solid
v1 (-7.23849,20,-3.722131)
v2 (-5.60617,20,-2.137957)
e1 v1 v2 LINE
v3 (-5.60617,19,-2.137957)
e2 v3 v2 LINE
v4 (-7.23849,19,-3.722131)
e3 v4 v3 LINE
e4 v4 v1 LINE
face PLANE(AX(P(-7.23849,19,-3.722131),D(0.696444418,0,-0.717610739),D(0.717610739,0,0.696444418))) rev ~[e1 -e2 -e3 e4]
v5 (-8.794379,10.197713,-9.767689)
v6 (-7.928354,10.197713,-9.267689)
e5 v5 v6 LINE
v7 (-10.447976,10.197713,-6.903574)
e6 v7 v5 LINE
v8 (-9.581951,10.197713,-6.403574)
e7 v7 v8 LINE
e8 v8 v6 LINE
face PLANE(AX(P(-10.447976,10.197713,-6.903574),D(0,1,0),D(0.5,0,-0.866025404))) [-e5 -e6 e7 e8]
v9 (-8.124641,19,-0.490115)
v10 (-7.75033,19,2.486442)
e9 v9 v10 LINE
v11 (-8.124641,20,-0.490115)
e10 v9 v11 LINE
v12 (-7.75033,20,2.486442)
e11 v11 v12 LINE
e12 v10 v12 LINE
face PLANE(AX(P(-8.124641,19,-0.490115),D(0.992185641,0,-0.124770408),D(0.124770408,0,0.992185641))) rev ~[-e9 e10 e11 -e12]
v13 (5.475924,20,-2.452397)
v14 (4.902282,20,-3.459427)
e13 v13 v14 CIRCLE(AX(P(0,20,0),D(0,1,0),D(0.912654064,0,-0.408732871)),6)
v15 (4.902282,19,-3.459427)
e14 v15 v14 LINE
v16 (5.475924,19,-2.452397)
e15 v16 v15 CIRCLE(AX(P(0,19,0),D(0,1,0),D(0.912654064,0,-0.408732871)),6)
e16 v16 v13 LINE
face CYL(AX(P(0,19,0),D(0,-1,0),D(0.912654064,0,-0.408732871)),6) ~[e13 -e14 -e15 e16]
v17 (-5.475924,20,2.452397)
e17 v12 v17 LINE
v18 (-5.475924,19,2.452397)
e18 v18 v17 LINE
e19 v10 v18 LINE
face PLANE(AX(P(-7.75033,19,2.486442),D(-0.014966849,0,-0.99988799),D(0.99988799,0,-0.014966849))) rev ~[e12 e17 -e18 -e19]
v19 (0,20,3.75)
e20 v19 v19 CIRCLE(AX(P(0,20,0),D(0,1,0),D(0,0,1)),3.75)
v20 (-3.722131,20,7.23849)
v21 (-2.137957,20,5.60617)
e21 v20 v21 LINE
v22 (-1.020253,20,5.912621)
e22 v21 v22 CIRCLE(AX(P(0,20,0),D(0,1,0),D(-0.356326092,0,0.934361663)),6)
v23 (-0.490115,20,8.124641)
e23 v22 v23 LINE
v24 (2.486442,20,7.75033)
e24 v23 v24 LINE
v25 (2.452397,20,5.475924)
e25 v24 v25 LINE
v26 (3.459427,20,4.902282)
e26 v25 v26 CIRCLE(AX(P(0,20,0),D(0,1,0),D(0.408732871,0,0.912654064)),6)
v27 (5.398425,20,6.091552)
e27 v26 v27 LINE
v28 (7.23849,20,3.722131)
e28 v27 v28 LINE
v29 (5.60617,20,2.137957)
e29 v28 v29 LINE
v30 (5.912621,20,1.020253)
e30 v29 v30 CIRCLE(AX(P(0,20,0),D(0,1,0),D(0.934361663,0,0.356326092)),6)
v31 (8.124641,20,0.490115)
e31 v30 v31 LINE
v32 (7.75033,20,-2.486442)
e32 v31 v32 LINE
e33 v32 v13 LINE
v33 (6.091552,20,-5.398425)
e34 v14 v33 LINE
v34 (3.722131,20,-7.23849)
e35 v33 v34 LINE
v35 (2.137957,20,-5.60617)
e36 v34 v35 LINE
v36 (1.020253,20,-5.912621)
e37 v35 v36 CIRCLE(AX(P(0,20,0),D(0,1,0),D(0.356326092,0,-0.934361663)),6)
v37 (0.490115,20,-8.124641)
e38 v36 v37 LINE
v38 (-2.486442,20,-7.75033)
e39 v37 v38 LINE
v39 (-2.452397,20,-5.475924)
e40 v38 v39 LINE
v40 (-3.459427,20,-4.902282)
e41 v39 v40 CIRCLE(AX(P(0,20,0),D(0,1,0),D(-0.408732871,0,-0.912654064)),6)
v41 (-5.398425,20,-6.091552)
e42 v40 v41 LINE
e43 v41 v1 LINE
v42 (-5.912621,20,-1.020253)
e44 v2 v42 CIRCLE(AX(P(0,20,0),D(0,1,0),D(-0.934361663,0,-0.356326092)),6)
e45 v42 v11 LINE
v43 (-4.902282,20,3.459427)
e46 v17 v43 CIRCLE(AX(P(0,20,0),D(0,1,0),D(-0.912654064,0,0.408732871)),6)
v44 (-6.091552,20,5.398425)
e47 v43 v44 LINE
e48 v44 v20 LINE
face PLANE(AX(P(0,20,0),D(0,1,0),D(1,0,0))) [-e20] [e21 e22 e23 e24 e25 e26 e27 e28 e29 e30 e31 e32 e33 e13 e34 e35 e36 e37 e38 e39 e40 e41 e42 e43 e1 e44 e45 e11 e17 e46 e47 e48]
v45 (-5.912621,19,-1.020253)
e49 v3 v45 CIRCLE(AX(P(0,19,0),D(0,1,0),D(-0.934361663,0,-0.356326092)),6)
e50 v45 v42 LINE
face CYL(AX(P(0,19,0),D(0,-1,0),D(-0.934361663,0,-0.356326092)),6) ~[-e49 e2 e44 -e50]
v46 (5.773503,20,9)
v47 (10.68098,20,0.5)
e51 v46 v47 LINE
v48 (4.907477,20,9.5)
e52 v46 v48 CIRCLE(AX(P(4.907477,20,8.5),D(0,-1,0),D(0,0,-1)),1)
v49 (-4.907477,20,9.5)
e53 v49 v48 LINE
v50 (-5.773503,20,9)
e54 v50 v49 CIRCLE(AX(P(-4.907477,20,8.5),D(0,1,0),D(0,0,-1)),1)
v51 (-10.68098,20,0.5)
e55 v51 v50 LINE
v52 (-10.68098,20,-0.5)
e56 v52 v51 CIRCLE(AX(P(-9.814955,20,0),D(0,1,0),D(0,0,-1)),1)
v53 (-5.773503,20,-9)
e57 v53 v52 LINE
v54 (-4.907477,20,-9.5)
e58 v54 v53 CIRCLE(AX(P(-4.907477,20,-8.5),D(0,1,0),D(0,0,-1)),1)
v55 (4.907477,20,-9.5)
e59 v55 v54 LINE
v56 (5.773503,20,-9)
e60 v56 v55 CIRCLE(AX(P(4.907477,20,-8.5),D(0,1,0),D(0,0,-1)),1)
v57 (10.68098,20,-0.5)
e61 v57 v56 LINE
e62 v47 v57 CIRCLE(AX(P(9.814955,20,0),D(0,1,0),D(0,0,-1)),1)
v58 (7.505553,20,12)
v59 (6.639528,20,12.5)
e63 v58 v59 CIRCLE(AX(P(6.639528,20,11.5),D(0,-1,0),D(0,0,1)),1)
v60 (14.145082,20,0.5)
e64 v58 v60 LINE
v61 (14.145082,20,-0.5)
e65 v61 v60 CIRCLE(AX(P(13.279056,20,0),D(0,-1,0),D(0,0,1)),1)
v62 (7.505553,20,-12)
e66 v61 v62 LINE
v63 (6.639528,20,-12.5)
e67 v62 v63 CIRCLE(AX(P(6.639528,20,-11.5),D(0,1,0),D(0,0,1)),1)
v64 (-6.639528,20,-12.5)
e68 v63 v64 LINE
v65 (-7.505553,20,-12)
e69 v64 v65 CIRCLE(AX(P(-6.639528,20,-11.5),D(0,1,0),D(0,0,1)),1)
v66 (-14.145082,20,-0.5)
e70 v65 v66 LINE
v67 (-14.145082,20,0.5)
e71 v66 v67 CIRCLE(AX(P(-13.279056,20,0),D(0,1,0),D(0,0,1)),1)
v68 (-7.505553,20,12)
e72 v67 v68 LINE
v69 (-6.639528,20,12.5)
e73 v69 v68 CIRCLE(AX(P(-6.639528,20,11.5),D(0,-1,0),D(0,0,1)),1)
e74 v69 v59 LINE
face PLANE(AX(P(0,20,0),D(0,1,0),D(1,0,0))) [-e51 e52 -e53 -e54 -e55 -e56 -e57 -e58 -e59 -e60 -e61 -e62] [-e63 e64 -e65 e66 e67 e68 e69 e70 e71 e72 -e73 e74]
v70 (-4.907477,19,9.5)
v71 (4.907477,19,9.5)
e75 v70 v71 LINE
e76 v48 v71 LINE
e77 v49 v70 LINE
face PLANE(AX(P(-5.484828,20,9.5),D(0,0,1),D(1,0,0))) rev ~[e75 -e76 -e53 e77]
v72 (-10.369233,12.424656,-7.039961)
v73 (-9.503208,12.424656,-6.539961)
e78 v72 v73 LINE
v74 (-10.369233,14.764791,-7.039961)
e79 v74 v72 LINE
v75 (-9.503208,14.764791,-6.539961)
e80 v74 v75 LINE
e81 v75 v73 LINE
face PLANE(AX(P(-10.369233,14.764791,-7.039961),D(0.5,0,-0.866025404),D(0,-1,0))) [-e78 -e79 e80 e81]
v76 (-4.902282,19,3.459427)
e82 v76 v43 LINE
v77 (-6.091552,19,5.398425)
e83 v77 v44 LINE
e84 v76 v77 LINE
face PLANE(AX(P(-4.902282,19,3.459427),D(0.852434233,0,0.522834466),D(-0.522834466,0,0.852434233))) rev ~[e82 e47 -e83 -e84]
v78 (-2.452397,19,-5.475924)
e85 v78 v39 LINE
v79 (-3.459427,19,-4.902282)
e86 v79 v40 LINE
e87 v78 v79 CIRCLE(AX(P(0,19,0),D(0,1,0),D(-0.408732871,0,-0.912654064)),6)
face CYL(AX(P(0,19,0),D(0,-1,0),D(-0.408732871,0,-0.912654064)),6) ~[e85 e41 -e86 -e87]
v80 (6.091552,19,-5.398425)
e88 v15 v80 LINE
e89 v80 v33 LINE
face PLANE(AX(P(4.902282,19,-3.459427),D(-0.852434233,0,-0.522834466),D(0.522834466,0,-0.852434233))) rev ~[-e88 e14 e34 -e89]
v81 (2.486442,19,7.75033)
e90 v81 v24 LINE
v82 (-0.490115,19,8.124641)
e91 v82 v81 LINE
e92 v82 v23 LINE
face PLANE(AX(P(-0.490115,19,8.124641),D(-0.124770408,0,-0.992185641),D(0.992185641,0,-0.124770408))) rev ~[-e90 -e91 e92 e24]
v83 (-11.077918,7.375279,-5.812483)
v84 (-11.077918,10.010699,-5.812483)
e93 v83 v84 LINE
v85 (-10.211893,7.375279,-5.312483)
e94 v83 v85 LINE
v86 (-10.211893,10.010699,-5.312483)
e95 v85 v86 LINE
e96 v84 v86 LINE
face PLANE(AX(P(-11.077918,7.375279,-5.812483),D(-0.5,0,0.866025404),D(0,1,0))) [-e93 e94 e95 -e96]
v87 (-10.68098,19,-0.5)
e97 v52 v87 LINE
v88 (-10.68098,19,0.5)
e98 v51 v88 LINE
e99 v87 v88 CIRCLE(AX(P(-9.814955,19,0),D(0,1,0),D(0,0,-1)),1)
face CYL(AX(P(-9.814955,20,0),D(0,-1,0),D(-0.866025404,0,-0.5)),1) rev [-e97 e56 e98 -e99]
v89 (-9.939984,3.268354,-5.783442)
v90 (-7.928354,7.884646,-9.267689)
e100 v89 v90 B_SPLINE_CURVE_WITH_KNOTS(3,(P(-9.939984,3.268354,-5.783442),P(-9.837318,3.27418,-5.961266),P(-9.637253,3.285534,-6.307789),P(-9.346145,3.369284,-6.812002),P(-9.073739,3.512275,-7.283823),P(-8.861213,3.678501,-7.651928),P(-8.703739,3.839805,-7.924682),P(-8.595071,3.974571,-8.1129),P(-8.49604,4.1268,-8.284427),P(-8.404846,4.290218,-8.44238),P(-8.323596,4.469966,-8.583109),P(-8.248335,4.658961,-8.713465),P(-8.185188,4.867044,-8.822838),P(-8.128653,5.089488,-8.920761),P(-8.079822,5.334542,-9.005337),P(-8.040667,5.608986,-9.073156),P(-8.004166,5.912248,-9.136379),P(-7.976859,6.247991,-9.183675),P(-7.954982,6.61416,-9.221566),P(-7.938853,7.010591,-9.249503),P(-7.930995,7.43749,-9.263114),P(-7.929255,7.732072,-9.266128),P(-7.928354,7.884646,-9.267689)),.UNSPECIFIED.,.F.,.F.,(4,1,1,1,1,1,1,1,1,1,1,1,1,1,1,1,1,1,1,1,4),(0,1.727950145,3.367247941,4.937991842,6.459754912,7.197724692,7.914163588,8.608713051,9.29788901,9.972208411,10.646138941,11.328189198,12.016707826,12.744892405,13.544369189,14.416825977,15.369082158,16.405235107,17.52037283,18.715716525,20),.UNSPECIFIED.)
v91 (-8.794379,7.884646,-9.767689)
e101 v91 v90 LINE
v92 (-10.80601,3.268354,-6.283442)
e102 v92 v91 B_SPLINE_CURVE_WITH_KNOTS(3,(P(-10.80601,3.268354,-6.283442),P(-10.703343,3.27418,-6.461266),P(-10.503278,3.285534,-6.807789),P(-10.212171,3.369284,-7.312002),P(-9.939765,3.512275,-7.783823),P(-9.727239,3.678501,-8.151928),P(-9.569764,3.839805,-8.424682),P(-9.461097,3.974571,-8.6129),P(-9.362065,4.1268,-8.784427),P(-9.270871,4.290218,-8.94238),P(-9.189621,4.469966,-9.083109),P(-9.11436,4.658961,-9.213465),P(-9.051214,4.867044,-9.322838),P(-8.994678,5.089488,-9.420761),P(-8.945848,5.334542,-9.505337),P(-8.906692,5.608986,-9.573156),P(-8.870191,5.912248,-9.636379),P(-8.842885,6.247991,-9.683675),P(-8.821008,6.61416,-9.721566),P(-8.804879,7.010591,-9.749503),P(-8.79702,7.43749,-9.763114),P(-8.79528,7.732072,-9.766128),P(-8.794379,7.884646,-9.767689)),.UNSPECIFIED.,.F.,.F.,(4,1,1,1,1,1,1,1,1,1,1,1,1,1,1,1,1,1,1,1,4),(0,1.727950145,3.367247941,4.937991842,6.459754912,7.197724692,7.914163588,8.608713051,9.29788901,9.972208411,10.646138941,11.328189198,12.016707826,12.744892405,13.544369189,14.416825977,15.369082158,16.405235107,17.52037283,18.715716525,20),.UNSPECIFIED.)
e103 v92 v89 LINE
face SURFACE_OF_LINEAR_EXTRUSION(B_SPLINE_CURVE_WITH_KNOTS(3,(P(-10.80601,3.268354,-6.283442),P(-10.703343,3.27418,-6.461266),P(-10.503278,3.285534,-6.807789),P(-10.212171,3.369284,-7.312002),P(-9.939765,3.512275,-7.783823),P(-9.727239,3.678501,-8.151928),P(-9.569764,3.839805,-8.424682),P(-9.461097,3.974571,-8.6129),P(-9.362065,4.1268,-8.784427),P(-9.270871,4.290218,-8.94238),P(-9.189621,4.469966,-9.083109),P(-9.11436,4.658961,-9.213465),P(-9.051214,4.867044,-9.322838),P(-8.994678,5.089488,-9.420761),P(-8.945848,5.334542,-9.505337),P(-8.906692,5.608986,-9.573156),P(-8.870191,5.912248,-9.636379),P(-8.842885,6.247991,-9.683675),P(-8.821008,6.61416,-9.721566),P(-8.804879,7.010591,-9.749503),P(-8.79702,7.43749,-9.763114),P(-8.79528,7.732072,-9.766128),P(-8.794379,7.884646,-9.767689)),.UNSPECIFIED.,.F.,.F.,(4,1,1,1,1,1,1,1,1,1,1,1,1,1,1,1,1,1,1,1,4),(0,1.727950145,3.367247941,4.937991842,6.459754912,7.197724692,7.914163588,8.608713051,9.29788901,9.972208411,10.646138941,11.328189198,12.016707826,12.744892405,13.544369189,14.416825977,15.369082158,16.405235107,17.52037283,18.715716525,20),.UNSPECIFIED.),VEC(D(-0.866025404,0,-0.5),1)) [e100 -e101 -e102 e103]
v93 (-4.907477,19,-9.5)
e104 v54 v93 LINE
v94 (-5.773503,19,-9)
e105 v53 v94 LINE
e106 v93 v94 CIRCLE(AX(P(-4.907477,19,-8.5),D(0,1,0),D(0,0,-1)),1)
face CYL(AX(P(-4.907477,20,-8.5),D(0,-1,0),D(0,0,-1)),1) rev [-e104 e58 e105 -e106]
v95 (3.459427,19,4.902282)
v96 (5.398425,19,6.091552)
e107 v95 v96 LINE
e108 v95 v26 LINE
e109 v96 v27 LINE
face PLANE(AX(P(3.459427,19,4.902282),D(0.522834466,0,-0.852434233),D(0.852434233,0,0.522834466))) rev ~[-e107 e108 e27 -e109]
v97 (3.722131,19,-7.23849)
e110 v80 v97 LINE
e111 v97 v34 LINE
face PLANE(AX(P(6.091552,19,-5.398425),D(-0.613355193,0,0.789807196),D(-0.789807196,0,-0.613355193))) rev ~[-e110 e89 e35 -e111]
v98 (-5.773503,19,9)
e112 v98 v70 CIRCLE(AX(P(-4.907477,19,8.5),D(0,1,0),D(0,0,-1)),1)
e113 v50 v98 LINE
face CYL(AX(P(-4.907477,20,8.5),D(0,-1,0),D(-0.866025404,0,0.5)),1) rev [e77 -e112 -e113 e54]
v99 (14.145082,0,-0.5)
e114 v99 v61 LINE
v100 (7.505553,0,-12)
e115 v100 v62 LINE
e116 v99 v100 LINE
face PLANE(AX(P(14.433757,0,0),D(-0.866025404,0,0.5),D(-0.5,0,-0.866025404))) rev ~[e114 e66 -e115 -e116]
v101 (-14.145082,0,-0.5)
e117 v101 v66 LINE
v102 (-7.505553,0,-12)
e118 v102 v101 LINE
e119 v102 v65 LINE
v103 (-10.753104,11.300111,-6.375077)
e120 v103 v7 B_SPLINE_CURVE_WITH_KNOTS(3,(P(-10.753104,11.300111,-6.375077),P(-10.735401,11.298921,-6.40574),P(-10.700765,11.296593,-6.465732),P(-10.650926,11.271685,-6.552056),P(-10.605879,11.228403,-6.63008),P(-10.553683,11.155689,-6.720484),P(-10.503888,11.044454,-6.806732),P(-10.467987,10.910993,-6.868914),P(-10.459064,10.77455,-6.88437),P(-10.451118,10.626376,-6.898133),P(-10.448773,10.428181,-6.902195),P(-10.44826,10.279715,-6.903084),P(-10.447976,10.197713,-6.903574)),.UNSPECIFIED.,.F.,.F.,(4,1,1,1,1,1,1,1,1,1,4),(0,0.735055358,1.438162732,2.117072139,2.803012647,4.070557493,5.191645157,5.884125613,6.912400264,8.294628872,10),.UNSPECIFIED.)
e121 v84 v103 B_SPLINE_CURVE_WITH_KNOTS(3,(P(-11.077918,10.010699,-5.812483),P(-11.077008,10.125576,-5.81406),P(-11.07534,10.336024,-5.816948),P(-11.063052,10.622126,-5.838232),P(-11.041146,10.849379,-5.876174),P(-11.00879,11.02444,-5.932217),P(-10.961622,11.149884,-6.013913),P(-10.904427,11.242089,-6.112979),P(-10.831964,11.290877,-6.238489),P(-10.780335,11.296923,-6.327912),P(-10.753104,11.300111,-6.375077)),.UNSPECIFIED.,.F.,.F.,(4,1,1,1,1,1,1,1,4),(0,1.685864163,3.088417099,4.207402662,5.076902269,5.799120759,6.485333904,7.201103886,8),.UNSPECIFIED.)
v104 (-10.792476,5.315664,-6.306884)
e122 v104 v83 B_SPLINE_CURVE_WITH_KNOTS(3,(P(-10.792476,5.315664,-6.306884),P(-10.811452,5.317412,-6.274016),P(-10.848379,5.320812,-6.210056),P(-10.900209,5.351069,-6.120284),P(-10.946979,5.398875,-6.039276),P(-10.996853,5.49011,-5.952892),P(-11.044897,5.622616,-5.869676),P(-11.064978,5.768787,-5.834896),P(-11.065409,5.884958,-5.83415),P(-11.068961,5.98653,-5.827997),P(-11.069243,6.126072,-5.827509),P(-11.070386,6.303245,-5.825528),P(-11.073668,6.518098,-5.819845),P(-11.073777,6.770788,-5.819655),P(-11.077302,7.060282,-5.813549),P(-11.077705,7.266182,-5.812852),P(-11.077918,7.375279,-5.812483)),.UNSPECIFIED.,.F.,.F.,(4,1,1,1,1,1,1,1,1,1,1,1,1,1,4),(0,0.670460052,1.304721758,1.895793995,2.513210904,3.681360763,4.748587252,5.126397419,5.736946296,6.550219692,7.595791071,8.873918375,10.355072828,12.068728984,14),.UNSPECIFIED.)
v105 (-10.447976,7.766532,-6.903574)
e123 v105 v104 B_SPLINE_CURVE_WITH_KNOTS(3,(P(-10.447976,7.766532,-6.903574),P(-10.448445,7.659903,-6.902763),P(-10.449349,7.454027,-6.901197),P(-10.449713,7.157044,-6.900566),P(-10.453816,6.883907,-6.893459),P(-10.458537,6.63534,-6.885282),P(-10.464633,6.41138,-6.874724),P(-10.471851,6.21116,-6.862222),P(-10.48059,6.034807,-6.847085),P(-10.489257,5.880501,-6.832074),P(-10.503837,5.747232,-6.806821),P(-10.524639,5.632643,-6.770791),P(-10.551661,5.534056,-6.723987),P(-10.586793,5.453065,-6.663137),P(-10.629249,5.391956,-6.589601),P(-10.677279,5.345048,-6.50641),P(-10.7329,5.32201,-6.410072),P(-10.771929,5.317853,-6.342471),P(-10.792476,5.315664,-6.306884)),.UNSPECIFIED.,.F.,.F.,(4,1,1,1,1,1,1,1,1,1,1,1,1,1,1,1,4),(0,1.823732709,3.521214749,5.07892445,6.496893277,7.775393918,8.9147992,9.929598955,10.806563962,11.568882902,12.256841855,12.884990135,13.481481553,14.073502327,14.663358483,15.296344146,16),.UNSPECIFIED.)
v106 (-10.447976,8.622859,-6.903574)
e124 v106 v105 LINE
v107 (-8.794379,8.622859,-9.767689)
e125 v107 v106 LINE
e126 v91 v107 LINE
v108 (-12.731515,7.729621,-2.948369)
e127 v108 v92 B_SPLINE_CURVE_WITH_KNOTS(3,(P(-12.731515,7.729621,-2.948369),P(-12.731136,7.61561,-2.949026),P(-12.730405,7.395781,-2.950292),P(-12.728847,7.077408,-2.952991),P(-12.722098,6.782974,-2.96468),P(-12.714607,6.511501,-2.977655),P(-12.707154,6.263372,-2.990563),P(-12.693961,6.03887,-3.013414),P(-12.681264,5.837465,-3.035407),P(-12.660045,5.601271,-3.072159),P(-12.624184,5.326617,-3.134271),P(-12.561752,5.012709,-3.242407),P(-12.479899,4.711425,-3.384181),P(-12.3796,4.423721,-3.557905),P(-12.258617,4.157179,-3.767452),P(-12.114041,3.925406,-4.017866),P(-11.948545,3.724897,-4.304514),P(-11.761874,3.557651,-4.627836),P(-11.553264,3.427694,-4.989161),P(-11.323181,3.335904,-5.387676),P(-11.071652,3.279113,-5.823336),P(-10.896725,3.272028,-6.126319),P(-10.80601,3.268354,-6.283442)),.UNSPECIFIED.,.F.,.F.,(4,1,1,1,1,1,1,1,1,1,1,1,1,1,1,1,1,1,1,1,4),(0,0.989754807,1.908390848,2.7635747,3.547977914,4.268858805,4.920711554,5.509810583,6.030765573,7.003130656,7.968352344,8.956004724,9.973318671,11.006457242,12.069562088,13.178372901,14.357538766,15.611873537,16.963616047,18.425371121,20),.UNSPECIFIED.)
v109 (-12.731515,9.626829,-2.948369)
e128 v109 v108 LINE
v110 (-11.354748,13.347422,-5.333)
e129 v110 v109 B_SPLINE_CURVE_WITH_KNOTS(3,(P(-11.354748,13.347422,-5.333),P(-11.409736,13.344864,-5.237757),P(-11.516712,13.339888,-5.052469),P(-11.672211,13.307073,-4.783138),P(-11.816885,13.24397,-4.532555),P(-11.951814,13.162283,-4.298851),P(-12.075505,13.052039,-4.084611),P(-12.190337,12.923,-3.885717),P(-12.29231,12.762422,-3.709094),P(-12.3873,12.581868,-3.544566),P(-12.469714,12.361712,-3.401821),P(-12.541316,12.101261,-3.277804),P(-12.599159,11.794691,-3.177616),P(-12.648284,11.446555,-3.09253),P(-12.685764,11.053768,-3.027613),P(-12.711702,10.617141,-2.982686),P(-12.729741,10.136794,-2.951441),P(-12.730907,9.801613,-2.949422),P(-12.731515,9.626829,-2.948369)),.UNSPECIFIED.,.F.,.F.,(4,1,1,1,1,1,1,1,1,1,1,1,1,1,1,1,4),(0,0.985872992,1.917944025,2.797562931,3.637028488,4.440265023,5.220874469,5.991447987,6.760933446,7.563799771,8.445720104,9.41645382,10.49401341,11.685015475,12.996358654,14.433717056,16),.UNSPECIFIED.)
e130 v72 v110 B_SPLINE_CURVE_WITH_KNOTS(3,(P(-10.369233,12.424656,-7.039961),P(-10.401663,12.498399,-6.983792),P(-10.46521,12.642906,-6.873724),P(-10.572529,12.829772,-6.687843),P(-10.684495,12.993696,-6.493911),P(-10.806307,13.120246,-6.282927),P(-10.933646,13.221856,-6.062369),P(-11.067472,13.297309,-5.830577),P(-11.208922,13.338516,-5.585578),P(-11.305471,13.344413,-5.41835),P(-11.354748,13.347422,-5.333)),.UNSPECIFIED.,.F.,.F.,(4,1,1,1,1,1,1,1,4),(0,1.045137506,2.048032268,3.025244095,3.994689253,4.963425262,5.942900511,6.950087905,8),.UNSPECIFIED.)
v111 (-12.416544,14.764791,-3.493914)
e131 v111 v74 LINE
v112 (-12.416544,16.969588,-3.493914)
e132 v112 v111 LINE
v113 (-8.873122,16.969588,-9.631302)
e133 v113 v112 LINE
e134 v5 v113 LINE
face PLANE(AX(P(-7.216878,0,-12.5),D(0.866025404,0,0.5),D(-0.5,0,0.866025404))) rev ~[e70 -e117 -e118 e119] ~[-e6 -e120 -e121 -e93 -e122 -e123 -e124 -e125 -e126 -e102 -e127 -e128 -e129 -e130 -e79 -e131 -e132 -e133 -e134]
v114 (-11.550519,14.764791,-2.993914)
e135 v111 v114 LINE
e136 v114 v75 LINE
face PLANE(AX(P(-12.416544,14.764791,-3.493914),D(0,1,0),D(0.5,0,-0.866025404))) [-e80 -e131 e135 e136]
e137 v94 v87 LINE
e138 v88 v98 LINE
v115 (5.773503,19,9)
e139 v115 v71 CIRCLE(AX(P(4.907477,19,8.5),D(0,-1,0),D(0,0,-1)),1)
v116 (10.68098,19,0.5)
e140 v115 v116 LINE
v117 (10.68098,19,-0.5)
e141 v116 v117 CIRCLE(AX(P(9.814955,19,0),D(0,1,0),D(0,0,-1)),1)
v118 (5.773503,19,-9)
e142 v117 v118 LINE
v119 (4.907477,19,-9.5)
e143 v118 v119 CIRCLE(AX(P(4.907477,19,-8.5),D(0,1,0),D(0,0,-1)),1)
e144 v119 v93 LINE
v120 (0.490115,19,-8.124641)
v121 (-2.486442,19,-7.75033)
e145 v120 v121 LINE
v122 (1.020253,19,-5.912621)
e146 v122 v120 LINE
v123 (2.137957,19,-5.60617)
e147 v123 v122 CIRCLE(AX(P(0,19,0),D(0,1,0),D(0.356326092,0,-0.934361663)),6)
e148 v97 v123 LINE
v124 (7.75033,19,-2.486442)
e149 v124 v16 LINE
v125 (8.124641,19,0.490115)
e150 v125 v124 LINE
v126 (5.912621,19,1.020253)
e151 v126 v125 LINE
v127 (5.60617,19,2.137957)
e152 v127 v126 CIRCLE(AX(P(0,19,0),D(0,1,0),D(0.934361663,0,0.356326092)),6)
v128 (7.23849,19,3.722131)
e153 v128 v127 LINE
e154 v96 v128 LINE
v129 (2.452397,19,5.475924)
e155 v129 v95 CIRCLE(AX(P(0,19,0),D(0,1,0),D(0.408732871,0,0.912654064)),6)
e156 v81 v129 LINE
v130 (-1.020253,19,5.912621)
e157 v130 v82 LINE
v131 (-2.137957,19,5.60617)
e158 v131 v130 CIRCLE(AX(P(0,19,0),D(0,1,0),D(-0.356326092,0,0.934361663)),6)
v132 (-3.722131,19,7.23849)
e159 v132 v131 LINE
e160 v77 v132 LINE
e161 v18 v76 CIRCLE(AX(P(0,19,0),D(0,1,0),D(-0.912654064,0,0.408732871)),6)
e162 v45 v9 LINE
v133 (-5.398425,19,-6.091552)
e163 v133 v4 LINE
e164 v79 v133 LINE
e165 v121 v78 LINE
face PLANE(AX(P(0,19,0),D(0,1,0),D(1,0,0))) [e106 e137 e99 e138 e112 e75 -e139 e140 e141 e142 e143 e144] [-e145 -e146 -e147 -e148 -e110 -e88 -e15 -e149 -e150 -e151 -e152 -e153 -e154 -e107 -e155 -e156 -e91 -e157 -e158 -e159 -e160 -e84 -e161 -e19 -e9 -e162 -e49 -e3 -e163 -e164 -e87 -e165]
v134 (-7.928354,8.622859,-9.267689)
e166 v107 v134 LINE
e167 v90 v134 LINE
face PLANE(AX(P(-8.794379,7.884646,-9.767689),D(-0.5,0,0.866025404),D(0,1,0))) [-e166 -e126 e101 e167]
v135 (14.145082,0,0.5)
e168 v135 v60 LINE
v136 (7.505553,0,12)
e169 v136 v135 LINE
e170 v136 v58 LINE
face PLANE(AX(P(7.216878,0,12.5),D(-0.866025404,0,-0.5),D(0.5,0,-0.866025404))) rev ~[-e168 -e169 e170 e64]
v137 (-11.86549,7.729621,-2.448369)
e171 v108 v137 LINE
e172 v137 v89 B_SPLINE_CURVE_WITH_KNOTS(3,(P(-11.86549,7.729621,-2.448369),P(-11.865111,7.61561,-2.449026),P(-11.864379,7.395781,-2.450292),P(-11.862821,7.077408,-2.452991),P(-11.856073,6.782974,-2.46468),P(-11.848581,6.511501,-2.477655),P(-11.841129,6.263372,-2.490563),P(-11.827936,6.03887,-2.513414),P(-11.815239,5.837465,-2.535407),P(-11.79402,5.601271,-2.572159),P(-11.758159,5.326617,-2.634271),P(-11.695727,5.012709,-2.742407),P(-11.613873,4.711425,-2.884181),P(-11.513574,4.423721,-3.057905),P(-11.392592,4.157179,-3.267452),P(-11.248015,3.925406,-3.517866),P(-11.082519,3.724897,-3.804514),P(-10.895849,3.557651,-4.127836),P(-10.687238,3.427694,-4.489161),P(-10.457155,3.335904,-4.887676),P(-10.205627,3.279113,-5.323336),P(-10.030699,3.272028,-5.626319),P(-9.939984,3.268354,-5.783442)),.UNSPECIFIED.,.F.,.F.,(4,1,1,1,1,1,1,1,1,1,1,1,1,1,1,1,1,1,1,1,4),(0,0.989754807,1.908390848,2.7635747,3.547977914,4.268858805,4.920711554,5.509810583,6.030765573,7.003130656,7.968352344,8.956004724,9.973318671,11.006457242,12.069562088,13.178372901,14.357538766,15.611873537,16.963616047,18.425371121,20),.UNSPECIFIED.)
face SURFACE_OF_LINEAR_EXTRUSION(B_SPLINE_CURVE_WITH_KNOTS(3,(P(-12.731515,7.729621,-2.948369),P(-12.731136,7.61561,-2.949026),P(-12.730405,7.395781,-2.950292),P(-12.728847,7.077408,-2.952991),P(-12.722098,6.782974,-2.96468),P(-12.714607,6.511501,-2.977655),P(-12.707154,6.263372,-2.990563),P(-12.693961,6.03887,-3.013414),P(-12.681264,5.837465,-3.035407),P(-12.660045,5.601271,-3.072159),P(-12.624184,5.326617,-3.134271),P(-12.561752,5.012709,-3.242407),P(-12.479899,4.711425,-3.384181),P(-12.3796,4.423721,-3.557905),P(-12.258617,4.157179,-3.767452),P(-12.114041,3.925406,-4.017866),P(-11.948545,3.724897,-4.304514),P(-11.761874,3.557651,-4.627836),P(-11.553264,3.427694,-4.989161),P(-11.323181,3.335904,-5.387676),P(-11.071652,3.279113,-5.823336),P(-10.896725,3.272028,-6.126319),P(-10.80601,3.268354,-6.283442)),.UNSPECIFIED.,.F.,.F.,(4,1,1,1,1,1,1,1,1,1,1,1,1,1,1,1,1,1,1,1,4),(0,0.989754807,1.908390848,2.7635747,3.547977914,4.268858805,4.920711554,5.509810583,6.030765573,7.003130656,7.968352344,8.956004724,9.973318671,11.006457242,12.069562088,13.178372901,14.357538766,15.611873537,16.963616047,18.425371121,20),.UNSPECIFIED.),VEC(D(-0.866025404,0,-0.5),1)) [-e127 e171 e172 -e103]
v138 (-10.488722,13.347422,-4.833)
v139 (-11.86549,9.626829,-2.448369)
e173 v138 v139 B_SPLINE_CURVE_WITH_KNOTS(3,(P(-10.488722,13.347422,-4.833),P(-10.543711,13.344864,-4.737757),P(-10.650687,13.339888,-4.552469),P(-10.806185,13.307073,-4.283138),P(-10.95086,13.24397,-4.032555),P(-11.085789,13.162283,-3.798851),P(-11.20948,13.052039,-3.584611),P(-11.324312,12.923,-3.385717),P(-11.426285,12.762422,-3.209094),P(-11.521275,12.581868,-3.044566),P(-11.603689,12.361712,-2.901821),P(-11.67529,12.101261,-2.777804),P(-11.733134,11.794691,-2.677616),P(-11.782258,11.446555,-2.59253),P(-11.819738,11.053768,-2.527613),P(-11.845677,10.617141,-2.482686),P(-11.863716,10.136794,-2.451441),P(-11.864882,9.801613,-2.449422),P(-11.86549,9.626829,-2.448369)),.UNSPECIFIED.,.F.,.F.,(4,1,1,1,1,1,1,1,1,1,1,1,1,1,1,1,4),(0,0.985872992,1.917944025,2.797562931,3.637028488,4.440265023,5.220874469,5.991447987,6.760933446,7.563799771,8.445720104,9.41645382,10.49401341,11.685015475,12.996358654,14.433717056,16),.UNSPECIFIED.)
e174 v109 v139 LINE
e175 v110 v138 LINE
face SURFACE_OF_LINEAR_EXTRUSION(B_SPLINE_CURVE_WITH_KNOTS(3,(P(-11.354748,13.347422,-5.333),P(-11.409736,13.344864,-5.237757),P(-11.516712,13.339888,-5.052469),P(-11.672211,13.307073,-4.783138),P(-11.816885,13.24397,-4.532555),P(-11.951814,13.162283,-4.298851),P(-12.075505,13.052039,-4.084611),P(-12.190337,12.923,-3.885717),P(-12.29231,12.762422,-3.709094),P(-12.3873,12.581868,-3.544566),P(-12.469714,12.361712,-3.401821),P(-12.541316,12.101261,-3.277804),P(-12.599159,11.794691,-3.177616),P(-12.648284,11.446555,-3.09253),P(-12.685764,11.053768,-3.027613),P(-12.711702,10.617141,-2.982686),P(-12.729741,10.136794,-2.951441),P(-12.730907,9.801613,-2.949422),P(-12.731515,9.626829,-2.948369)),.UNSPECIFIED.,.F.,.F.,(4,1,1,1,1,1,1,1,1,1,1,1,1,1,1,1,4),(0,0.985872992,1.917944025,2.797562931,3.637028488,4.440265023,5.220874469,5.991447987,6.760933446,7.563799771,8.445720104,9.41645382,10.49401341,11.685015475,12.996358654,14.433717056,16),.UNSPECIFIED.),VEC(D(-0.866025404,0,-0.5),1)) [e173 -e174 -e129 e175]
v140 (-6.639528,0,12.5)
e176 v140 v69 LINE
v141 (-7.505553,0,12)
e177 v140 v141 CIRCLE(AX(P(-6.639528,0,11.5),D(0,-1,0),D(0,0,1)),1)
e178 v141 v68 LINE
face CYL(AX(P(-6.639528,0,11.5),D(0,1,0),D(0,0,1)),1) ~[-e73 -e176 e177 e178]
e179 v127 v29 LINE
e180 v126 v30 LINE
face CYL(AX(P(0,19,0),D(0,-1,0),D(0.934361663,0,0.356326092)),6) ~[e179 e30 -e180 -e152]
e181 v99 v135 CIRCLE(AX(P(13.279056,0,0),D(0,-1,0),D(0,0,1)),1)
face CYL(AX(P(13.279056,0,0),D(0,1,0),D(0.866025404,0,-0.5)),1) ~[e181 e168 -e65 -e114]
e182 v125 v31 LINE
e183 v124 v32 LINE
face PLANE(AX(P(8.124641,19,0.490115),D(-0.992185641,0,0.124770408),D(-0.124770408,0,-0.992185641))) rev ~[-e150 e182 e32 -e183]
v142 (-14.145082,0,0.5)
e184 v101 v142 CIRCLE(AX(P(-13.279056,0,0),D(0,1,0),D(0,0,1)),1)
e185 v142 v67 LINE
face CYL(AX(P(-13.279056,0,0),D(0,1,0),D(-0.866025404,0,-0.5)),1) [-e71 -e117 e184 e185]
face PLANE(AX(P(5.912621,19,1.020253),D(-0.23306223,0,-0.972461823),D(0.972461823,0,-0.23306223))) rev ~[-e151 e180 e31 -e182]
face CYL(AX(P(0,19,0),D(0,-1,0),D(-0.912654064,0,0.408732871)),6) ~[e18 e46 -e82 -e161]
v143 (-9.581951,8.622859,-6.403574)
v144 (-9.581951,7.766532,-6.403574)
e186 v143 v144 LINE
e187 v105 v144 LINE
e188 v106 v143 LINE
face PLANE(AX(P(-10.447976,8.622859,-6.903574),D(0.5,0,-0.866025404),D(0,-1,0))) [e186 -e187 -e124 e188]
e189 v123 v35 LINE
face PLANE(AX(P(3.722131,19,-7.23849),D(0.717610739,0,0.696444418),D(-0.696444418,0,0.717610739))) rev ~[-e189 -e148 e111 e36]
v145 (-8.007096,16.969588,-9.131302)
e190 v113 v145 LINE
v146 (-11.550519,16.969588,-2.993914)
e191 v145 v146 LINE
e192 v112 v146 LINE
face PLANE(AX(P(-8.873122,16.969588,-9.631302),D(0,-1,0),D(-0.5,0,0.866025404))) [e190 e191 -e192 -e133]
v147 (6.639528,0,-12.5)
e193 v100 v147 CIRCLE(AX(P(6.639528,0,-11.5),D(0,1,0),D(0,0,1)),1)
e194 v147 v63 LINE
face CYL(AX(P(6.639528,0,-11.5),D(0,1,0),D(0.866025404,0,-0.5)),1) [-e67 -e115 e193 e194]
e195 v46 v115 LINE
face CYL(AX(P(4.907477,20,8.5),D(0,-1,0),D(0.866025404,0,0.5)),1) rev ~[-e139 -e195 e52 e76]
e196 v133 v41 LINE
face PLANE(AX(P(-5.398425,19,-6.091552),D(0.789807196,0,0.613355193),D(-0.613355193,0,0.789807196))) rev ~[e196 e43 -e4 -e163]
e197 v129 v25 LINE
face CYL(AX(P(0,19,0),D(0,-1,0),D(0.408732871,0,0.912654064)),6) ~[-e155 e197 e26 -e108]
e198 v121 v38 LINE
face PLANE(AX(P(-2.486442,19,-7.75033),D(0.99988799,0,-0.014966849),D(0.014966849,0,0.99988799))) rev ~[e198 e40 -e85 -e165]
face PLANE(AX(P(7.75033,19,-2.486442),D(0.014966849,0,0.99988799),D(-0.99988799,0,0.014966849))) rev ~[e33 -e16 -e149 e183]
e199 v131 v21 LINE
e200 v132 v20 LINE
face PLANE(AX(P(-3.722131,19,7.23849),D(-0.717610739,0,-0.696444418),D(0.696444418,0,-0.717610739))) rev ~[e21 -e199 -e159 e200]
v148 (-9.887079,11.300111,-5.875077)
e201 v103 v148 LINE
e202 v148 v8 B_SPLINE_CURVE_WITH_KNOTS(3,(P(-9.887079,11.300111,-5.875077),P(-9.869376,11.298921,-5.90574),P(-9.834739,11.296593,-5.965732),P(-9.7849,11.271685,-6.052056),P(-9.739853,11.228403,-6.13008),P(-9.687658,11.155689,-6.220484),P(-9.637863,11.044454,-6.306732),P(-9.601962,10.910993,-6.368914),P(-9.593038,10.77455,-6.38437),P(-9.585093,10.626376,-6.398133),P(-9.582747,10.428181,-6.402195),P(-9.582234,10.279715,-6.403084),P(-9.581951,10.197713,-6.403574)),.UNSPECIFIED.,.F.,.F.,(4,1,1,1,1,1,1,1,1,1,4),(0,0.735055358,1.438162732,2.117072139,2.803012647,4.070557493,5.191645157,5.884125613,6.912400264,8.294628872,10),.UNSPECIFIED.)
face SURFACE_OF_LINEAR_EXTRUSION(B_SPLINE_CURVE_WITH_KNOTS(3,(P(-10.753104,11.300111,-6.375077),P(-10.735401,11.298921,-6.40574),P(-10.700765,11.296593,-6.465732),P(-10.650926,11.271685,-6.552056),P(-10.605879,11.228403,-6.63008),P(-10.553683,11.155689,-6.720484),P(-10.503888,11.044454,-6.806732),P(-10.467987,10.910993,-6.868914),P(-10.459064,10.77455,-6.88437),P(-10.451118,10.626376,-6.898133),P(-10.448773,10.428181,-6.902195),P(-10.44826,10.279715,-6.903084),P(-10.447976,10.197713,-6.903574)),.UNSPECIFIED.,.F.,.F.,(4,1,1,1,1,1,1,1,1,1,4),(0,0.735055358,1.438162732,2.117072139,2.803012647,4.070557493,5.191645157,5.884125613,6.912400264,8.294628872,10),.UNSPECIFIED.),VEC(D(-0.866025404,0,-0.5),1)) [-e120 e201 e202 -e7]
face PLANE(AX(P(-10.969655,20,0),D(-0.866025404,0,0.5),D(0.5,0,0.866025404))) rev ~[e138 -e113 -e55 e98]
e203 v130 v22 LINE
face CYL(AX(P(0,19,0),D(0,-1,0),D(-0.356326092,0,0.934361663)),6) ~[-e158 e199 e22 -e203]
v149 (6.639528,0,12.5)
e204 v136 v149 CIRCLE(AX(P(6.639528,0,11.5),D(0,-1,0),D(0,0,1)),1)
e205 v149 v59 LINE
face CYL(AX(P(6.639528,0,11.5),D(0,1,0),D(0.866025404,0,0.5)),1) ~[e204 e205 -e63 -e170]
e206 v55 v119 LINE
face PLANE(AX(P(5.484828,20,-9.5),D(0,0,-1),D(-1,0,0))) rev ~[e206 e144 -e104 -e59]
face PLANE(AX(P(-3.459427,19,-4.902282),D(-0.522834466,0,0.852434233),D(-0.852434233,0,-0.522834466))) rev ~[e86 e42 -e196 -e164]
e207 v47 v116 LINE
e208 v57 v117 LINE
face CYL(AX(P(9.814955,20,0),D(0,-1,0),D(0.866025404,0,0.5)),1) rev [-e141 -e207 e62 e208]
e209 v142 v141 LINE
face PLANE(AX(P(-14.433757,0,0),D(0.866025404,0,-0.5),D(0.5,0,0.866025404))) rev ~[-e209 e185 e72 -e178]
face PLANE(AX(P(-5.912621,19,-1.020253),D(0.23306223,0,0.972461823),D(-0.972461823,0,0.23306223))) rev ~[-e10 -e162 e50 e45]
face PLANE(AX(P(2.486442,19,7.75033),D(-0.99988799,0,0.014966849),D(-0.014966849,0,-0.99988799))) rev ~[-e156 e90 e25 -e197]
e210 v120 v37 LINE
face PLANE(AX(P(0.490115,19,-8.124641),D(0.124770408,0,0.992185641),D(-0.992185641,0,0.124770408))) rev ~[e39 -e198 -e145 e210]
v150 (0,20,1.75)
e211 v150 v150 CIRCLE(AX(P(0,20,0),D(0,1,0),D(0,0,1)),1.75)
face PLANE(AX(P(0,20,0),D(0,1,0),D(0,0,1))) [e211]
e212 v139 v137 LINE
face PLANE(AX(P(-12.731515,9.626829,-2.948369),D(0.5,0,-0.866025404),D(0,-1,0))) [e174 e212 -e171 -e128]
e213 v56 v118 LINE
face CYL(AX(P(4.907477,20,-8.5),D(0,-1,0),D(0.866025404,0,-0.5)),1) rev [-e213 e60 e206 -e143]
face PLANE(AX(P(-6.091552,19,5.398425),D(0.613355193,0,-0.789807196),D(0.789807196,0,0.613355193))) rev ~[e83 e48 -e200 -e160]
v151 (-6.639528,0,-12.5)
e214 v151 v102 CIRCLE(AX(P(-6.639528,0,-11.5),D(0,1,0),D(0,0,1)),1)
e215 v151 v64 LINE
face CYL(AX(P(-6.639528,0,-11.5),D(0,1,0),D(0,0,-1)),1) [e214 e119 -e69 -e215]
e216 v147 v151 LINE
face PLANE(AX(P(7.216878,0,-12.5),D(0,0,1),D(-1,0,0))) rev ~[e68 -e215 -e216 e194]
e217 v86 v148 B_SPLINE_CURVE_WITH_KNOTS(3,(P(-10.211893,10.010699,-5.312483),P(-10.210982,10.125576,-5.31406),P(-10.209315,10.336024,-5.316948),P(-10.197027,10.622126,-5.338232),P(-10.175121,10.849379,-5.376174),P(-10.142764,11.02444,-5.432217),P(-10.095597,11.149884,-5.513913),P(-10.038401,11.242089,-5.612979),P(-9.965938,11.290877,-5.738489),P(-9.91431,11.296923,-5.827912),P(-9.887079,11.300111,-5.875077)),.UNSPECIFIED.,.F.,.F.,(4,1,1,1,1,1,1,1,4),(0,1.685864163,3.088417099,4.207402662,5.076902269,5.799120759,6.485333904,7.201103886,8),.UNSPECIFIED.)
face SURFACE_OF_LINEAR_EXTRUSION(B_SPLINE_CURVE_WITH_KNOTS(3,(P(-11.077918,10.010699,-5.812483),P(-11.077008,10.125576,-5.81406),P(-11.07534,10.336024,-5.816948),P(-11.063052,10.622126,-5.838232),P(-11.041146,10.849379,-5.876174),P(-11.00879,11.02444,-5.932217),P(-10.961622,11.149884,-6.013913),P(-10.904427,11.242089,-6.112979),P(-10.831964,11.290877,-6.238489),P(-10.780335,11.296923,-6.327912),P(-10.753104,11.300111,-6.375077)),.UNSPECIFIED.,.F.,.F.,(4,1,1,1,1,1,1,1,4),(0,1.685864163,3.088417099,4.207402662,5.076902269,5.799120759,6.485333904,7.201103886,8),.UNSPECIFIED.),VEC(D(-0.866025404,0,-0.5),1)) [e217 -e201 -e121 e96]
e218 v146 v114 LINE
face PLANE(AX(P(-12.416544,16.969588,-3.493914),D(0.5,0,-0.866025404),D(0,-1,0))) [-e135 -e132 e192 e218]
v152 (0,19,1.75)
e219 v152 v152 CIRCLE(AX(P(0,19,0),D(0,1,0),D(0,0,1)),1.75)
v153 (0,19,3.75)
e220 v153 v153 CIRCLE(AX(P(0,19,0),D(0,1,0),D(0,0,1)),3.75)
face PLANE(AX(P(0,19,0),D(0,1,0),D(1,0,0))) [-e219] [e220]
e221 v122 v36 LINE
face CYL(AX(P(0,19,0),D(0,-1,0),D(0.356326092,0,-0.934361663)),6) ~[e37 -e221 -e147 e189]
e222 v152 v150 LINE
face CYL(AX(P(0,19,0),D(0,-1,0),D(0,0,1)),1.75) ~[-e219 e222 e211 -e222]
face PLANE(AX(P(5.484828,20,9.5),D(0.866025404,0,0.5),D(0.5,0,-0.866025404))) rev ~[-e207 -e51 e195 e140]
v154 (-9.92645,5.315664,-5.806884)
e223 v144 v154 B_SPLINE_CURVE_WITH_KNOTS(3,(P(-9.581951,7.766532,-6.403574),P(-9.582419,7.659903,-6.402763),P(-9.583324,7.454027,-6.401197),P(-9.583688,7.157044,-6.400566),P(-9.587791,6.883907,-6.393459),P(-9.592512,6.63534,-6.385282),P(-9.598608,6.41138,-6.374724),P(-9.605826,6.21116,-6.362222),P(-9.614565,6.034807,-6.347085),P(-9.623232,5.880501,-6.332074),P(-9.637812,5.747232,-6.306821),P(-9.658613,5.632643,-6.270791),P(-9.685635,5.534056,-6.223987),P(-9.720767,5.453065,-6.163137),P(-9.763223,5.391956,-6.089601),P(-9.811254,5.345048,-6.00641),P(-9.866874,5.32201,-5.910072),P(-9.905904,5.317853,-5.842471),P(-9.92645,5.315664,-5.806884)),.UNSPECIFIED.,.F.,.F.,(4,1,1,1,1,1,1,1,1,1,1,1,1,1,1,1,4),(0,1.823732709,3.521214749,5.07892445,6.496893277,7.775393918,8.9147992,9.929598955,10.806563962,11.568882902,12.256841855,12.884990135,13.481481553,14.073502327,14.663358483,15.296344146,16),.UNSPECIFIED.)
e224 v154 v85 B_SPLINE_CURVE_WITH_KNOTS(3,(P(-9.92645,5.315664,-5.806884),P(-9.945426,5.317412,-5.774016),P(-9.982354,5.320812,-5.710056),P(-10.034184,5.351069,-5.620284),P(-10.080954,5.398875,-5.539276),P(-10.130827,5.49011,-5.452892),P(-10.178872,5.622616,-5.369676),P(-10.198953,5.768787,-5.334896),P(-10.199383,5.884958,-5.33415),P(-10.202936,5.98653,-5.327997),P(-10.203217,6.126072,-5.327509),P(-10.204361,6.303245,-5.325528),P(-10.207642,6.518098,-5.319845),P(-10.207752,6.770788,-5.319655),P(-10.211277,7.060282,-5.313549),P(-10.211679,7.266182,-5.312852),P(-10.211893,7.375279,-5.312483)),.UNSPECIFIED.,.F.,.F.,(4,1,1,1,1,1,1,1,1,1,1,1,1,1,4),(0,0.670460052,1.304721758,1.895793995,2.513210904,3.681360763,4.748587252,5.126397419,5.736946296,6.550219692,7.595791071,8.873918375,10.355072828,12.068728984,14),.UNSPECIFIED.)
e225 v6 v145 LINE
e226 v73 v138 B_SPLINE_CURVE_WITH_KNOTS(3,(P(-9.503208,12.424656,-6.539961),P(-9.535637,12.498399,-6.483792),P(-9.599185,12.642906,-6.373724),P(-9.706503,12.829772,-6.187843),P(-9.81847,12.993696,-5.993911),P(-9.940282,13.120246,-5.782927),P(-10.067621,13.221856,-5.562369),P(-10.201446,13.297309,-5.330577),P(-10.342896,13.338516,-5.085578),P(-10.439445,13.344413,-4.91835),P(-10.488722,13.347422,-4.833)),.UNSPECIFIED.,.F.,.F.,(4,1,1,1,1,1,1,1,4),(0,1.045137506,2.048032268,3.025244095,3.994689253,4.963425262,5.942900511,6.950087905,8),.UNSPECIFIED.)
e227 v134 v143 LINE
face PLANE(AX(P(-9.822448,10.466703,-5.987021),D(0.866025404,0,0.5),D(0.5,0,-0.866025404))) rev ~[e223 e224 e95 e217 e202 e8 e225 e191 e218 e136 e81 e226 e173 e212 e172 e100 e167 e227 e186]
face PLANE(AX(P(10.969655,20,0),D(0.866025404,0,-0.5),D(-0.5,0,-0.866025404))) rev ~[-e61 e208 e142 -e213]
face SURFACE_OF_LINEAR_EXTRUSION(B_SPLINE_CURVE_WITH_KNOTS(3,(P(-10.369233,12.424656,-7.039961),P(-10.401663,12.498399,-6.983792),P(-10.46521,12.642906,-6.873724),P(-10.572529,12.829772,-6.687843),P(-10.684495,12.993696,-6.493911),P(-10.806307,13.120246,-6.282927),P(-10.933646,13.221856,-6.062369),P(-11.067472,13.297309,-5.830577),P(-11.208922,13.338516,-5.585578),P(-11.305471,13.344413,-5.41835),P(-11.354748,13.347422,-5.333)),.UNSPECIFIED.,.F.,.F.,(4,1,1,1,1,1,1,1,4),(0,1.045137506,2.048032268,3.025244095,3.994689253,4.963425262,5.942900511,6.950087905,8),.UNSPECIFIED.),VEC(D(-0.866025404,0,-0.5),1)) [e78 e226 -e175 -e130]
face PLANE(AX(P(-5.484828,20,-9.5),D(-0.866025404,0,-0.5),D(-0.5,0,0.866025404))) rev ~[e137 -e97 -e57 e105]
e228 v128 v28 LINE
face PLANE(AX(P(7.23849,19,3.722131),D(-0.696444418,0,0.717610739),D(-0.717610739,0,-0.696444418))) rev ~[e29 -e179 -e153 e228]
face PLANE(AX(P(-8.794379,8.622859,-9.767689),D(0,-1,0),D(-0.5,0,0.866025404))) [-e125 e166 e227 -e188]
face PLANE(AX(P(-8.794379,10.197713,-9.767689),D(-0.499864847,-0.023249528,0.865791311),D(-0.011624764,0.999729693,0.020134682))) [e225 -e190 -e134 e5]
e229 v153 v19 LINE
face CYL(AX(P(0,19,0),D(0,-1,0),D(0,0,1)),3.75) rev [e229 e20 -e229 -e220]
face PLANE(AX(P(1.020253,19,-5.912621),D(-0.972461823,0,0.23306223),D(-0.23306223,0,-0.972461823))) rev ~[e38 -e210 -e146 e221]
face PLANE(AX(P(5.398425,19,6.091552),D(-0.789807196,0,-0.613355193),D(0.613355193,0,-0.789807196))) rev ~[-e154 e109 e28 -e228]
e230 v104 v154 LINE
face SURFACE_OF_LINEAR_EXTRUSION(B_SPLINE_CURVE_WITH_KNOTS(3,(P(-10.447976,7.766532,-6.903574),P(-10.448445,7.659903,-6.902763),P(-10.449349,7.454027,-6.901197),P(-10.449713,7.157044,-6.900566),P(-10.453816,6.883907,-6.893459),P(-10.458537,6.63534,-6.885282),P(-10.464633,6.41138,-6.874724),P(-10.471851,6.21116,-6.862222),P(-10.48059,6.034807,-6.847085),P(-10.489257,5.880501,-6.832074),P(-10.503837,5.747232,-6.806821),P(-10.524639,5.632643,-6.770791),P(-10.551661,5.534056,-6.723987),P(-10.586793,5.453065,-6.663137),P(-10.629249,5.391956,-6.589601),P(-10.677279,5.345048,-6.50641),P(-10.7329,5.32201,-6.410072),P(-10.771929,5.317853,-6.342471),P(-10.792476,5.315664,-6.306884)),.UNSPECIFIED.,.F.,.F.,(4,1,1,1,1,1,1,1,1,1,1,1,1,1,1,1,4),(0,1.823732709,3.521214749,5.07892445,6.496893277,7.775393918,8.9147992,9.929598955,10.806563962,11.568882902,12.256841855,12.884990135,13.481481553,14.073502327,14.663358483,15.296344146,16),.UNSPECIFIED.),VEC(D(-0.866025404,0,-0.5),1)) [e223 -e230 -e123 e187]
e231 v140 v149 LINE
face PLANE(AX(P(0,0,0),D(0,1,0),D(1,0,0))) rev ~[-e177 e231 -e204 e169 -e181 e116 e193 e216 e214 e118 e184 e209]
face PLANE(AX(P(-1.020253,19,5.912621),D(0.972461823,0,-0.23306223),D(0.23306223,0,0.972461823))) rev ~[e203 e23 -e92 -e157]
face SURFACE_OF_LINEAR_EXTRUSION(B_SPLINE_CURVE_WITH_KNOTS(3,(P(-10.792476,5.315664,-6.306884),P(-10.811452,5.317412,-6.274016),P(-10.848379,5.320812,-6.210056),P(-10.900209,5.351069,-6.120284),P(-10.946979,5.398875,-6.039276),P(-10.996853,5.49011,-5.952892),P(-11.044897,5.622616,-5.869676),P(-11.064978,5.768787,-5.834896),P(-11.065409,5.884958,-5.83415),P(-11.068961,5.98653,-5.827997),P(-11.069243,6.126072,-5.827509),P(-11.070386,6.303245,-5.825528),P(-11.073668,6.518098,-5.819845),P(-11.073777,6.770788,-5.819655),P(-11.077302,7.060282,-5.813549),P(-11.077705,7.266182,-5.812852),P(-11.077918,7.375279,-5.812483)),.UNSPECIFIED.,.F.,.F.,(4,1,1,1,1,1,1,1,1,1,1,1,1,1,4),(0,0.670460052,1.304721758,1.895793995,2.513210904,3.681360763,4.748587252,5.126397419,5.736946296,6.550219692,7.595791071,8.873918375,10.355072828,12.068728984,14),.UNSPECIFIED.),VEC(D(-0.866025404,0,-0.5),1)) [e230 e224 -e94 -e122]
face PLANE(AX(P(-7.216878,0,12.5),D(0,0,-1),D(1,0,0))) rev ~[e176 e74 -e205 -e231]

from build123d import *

# Parameters (mm, degrees)
EXTRUDE_1_DEPTH     = 20
CUT_EXTRUDE_1_DEPTH = 1
SKETCH_3_R          = 3.75
SKETCH_3_R_2        = 1.75
EXTRUDE_2_DEPTH     = 1
FILLET_1_R          = 1
CUT_EXTRUDE_2_DEPTH = 1


with BuildPart() as part:
    # 草图1 → 凸台-拉伸1 (new body)
    with BuildSketch(Plane(origin=(0, 0, 0), x_dir=(1, 0, 0), z_dir=(0, 1, 0))):
        Polygon((14.43375673, 0), (7.216878365, 12.5), (-7.216878365, 12.5), (-14.43375673, 0), (-7.216878365, -12.5), (7.216878365, -12.5), align=None)
    extrude(amount=EXTRUDE_1_DEPTH)

    # 草图2 → 切除-拉伸1 (cut)
    with BuildSketch(Plane(origin=(0, 20, 0), x_dir=(1, 0, 0), z_dir=(0, 1, 0))):
        Polygon((5.484827557, -9.5), (10.969655115, 0), (5.484827557, 9.5), (-5.484827557, 9.5), (-10.969655115, 0), (-5.484827557, -9.5), align=None)
    extrude(amount=-CUT_EXTRUDE_1_DEPTH, mode=Mode.SUBTRACT)

    # 草图3 → 凸台-拉伸2 (add)
    # profile 1 of 2: a face of its own
    with BuildSketch(Plane(origin=(0, 19, 0), x_dir=(1, 0, 0), z_dir=(0, 1, 0))):
        with BuildLine():
            Line((8.124640736, -0.490115197), (7.750329512, 2.486441724))
            Line((7.750329512, 2.486441724), (5.47592438, 2.452397232))
            ThreePointArc((5.47592438, 2.452397232), (5.213474627, 2.969794996), (4.902281736, 3.4594268))
            Line((4.902281736, 3.4594268), (6.091552339, 5.39842478))
            Line((6.091552339, 5.39842478), (3.72213075, 7.238490359))
            Line((3.72213075, 7.238490359), (2.137956549, 5.606169975))
            ThreePointArc((2.137956549, 5.606169975), (1.586521082, 5.786445442), (1.02025251, 5.912620808))
            Line((1.02025251, 5.912620808), (0.490115197, 8.124640736))
            Line((0.490115197, 8.124640736), (-2.486441724, 7.750329512))
            Line((-2.486441724, 7.750329512), (-2.452397232, 5.47592438))
            ThreePointArc((-2.452397232, 5.47592438), (-2.969794996, 5.213474627), (-3.4594268, 4.902281736))
            Line((-3.4594268, 4.902281736), (-5.39842478, 6.091552339))
            Line((-5.39842478, 6.091552339), (-7.238490359, 3.72213075))
            Line((-7.238490359, 3.72213075), (-5.606169975, 2.137956549))
            ThreePointArc((-5.606169975, 2.137956549), (-5.786445442, 1.586521082), (-5.912620808, 1.02025251))
            Line((-5.912620808, 1.02025251), (-8.124640736, 0.490115197))
            Line((-8.124640736, 0.490115197), (-7.750329512, -2.486441724))
            Line((-7.750329512, -2.486441724), (-5.47592438, -2.452397232))
            ThreePointArc((-5.47592438, -2.452397232), (-5.213474627, -2.969794996), (-4.902281736, -3.4594268))
            Line((-4.902281736, -3.4594268), (-6.091552339, -5.39842478))
            Line((-6.091552339, -5.39842478), (-3.72213075, -7.238490359))
            Line((-3.72213075, -7.238490359), (-2.137956549, -5.606169975))
            ThreePointArc((-2.137956549, -5.606169975), (-1.586521082, -5.786445442), (-1.02025251, -5.912620808))
            Line((-1.02025251, -5.912620808), (-0.490115197, -8.124640736))
            Line((-0.490115197, -8.124640736), (2.486441724, -7.750329512))
            Line((2.486441724, -7.750329512), (2.452397232, -5.47592438))
            ThreePointArc((2.452397232, -5.47592438), (2.969794996, -5.213474627), (3.4594268, -4.902281736))
            Line((3.4594268, -4.902281736), (5.39842478, -6.091552339))
            Line((5.39842478, -6.091552339), (7.238490359, -3.72213075))
            Line((7.238490359, -3.72213075), (5.606169975, -2.137956549))
            ThreePointArc((5.606169975, -2.137956549), (5.786445442, -1.586521082), (5.912620808, -1.02025251))
            Line((5.912620808, -1.02025251), (8.124640736, -0.490115197))
        make_face()
        with Locations(Location((0, 0, 0), (0, 0, 270))):
            Circle(SKETCH_3_R, mode=Mode.SUBTRACT)
    # profile 2 of 2: a face of its own
    with BuildSketch(Plane(origin=(0, 19, 0), x_dir=(1, 0, 0), z_dir=(0, 1, 0))):
        with Locations(Location((0, 0, 0), (0, 0, 270))):
            Circle(SKETCH_3_R_2)
    extrude(amount=EXTRUDE_2_DEPTH)

    # 圆角1
    fillet_1_edges = [part.edges().sort_by_distance(p)[0] for p in [
        (7.216878365, 10, 12.5),
        (-7.216878365, 10, 12.5),
        (-14.43375673, 10, 0),
        (-7.216878365, 10, -12.5),
        (7.216878365, 10, -12.5),
        (14.43375673, 10, 0),
        (5.484827557, 19.5, 9.5),
        (-5.484827557, 19.5, 9.5),
        (-10.969655115, 19.5, 0),
        (-5.484827557, 19.5, -9.5),
        (5.484827557, 19.5, -9.5),
        (10.969655115, 19.5, 0),
    ]]
    fillet(fillet_1_edges, radius=FILLET_1_R)

    # 草图5 → 切除-拉伸2 (cut)
    with BuildSketch(Plane(origin=(-10.825317547, 0, -6.25), x_dir=(-0.4999999999999999, 0, 0.8660254037844386), z_dir=(-0.8660254037844387, 0, -0.49999999999999994))):
        with BuildLine():
            Line((3.182453488, 16.969587549), (3.182453488, 14.764791287))
            Line((3.182453488, 14.764791287), (-0.912168142, 14.764791287))
            Line((-0.912168142, 14.764791287), (-0.912168142, 12.424655968))
            add(Edge.make_bspline(
                [(-0.912168142, 12.424655968), (-0.847309657, 12.498399491), (-0.720214162, 12.642905944), (-0.505577598, 12.829771532), (-0.281644119, 12.993696487), (-0.03802037, 13.120245746), (0.216657884, 13.221856292), (0.48430812, 13.297309113), (0.76720826, 13.338516205), (0.96030635, 13.344412753), (1.05886066, 13.347422261)],
                knots=[0, 0, 0, 0, 1.045137506, 2.048032268, 3.025244095, 3.994689253, 4.963425262, 5.942900511, 6.950087905, 8, 8, 8, 8], degree=3))
            add(Edge.make_bspline(
                [(1.05886066, 13.347422261), (1.16883757, 13.344864159), (1.382789631, 13.339887557), (1.693785994, 13.307073086), (1.983134795, 13.243970031), (2.252993321, 13.162283164), (2.500375895, 13.052039166), (2.730038976, 12.922999932), (2.933985745, 12.762421538), (3.123965679, 12.581868168), (3.288793274, 12.361712081), (3.431996368, 12.101261287), (3.547683834, 11.794691149), (3.645932383, 11.446555171), (3.720891941, 11.053767841), (3.772768776, 10.617140926), (3.808847597, 10.136794392), (3.811179356, 9.801612815), (3.812395277, 9.626828569)],
                knots=[0, 0, 0, 0, 0.985872992, 1.917944025, 2.797562931, 3.637028488, 4.440265023, 5.220874469, 5.991447987, 6.760933446, 7.563799771, 8.445720104, 9.41645382, 10.49401341, 11.685015475, 12.996358654, 14.433717056, 16, 16, 16, 16], degree=3))
            Line((3.812395277, 9.626828569), (3.812395277, 7.729621071))
            add(Edge.make_bspline(
                [(3.812395277, 7.729621071), (3.811636865, 7.615610244), (3.810174535, 7.39578083), (3.80705838, 7.077408436), (3.793560759, 6.782973949), (3.778578513, 6.511500745), (3.76367309, 6.263371536), (3.737287126, 6.038869904), (3.711892824, 5.837464832), (3.669454906, 5.601271022), (3.597733869, 5.326616934), (3.472868845, 5.012709117), (3.309162628, 4.711425167), (3.108564003, 4.423721493), (2.866599584, 4.157179392), (2.577446527, 3.92540628), (2.24645401, 3.7248973), (1.873113716, 3.557651353), (1.455891936, 3.427693886), (0.995726213, 3.335903519), (0.492669559, 3.279113398), (0.142814297, 3.272028018), (-0.038616051, 3.268353634)],
                knots=[0, 0, 0, 0, 0.989754807, 1.908390848, 2.7635747, 3.547977914, 4.268858805, 4.920711554, 5.509810583, 6.030765573, 7.003130656, 7.968352344, 8.956004724, 9.973318671, 11.006457242, 12.069562088, 13.178372901, 14.357538766, 15.611873537, 16.963616047, 18.425371121, 20, 20, 20, 20], degree=3))
            add(Edge.make_bspline(
                [(-0.038616051, 3.268353634), (-0.243948644, 3.274180091), (-0.644079256, 3.285534078), (-1.226293798, 3.369283972), (-1.771106092, 3.51227482), (-2.196157724, 3.678501355), (-2.511106829, 3.83980469), (-2.728441898, 3.974571457), (-2.926504503, 4.126800061), (-3.108892964, 4.2902182), (-3.271392556, 4.469966225), (-3.421915, 4.658960555), (-3.548207739, 4.867044262), (-3.661278956, 5.089487655), (-3.758939888, 5.334542356), (-3.837250577, 5.608986087), (-3.910253078, 5.912248249), (-3.964865943, 6.247990604), (-4.008619503, 6.61415961), (-4.040877856, 7.010590868), (-4.056594386, 7.437489802), (-4.060074578, 7.732071764), (-4.061877088, 7.884645808)],
                knots=[0, 0, 0, 0, 1.727950145, 3.367247941, 4.937991842, 6.459754912, 7.197724692, 7.914163588, 8.608713051, 9.29788901, 9.972208411, 10.646138941, 11.328189198, 12.016707826, 12.744892405, 13.544369189, 14.416825977, 15.369082158, 16.405235107, 17.52037283, 18.715716525, 20, 20, 20, 20], degree=3))
            Line((-4.061877088, 7.884645808), (-4.061877088, 8.622858842))
            Line((-4.061877088, 8.622858842), (-0.754682694, 8.622858842))
            Line((-0.754682694, 8.622858842), (-0.754682694, 7.766531722))
            add(Edge.make_bspline(
                [(-0.754682694, 7.766531722), (-0.753745858, 7.659902919), (-0.75193704, 7.454026853), (-0.751208911, 7.157043894), (-0.743002222, 6.883906615), (-0.733560957, 6.635339552), (-0.721369171, 6.411380043), (-0.706933178, 6.211159983), (-0.689454556, 6.034806531), (-0.672120944, 5.880501001), (-0.642961084, 5.747231672), (-0.601357722, 5.632643336), (-0.547313566, 5.534055691), (-0.477049795, 5.453064567), (-0.392137997, 5.391956317), (-0.296077191, 5.345048165), (-0.184835288, 5.322009644), (-0.106776695, 5.317852774), (-0.065683863, 5.315664449)],
                knots=[0, 0, 0, 0, 1.823732709, 3.521214749, 5.07892445, 6.496893277, 7.775393918, 8.9147992, 9.929598955, 10.806563962, 11.568882902, 12.256841855, 12.884990135, 13.481481553, 14.073502327, 14.663358483, 15.296344146, 16, 16, 16, 16], degree=3))
            add(Edge.make_bspline(
                [(-0.065683863, 5.315664449), (-0.027731598, 5.317411777), (0.046123876, 5.320812096), (0.149783373, 5.351069232), (0.243322788, 5.398874635), (0.343070554, 5.490110476), (0.439159872, 5.622616497), (0.479320906, 5.768787157), (0.480182252, 5.884957887), (0.487287538, 5.986529514), (0.487850586, 6.126071944), (0.490137715, 6.30324548), (0.496700441, 6.518097802), (0.496919244, 6.770787873), (0.503969738, 7.060282299), (0.504774487, 7.266182326), (0.505200884, 7.375278814)],
                knots=[0, 0, 0, 0, 0.670460052, 1.304721758, 1.895793995, 2.513210904, 3.681360763, 4.748587252, 5.126397419, 5.736946296, 6.550219692, 7.595791071, 8.873918375, 10.355072828, 12.068728984, 14, 14, 14, 14], degree=3))
            Line((0.505200884, 7.375278814), (0.505200884, 10.010699346))
            add(Edge.make_bspline(
                [(0.505200884, 10.010699346), (0.503380579, 10.125575768), (0.500045872, 10.336023509), (0.47546885, 10.622126346), (0.431657196, 10.849379296), (0.366944382, 11.02443971), (0.272609864, 11.14988358), (0.158217982, 11.242089048), (0.013291946, 11.290877165), (-0.089964803, 11.296922757), (-0.144426586, 11.300111446)],
                knots=[0, 0, 0, 0, 1.685864163, 3.088417099, 4.207402662, 5.076902269, 5.799120759, 6.485333904, 7.201103886, 8, 8, 8, 8], degree=3))
            add(Edge.make_bspline(
                [(-0.144426586, 11.300111446), (-0.179832609, 11.298921334), (-0.249105789, 11.296592836), (-0.348784063, 11.271685194), (-0.438878072, 11.228403245), (-0.543268285, 11.155689146), (-0.642858944, 11.044453729), (-0.714660126, 10.910993139), (-0.732507313, 10.774549614), (-0.748399256, 10.626376191), (-0.753089766, 10.428180796), (-0.75411592, 10.279715188), (-0.754682694, 10.197713315)],
                knots=[0, 0, 0, 0, 0.735055358, 1.438162732, 2.117072139, 2.803012647, 4.070557493, 5.191645157, 5.884125613, 6.912400264, 8.294628872, 10, 10, 10, 10], degree=3))
            Line((-0.754682694, 10.197713315), (-4.061877088, 10.197713315))
            Line((-4.061877088, 10.197713315), (-3.904391641, 16.969587549))
            Line((-3.904391641, 16.969587549), (3.182453488, 16.969587549))
        make_face()
    extrude(amount=-CUT_EXTRUDE_2_DEPTH, mode=Mode.SUBTRACT)


solid = part.part
